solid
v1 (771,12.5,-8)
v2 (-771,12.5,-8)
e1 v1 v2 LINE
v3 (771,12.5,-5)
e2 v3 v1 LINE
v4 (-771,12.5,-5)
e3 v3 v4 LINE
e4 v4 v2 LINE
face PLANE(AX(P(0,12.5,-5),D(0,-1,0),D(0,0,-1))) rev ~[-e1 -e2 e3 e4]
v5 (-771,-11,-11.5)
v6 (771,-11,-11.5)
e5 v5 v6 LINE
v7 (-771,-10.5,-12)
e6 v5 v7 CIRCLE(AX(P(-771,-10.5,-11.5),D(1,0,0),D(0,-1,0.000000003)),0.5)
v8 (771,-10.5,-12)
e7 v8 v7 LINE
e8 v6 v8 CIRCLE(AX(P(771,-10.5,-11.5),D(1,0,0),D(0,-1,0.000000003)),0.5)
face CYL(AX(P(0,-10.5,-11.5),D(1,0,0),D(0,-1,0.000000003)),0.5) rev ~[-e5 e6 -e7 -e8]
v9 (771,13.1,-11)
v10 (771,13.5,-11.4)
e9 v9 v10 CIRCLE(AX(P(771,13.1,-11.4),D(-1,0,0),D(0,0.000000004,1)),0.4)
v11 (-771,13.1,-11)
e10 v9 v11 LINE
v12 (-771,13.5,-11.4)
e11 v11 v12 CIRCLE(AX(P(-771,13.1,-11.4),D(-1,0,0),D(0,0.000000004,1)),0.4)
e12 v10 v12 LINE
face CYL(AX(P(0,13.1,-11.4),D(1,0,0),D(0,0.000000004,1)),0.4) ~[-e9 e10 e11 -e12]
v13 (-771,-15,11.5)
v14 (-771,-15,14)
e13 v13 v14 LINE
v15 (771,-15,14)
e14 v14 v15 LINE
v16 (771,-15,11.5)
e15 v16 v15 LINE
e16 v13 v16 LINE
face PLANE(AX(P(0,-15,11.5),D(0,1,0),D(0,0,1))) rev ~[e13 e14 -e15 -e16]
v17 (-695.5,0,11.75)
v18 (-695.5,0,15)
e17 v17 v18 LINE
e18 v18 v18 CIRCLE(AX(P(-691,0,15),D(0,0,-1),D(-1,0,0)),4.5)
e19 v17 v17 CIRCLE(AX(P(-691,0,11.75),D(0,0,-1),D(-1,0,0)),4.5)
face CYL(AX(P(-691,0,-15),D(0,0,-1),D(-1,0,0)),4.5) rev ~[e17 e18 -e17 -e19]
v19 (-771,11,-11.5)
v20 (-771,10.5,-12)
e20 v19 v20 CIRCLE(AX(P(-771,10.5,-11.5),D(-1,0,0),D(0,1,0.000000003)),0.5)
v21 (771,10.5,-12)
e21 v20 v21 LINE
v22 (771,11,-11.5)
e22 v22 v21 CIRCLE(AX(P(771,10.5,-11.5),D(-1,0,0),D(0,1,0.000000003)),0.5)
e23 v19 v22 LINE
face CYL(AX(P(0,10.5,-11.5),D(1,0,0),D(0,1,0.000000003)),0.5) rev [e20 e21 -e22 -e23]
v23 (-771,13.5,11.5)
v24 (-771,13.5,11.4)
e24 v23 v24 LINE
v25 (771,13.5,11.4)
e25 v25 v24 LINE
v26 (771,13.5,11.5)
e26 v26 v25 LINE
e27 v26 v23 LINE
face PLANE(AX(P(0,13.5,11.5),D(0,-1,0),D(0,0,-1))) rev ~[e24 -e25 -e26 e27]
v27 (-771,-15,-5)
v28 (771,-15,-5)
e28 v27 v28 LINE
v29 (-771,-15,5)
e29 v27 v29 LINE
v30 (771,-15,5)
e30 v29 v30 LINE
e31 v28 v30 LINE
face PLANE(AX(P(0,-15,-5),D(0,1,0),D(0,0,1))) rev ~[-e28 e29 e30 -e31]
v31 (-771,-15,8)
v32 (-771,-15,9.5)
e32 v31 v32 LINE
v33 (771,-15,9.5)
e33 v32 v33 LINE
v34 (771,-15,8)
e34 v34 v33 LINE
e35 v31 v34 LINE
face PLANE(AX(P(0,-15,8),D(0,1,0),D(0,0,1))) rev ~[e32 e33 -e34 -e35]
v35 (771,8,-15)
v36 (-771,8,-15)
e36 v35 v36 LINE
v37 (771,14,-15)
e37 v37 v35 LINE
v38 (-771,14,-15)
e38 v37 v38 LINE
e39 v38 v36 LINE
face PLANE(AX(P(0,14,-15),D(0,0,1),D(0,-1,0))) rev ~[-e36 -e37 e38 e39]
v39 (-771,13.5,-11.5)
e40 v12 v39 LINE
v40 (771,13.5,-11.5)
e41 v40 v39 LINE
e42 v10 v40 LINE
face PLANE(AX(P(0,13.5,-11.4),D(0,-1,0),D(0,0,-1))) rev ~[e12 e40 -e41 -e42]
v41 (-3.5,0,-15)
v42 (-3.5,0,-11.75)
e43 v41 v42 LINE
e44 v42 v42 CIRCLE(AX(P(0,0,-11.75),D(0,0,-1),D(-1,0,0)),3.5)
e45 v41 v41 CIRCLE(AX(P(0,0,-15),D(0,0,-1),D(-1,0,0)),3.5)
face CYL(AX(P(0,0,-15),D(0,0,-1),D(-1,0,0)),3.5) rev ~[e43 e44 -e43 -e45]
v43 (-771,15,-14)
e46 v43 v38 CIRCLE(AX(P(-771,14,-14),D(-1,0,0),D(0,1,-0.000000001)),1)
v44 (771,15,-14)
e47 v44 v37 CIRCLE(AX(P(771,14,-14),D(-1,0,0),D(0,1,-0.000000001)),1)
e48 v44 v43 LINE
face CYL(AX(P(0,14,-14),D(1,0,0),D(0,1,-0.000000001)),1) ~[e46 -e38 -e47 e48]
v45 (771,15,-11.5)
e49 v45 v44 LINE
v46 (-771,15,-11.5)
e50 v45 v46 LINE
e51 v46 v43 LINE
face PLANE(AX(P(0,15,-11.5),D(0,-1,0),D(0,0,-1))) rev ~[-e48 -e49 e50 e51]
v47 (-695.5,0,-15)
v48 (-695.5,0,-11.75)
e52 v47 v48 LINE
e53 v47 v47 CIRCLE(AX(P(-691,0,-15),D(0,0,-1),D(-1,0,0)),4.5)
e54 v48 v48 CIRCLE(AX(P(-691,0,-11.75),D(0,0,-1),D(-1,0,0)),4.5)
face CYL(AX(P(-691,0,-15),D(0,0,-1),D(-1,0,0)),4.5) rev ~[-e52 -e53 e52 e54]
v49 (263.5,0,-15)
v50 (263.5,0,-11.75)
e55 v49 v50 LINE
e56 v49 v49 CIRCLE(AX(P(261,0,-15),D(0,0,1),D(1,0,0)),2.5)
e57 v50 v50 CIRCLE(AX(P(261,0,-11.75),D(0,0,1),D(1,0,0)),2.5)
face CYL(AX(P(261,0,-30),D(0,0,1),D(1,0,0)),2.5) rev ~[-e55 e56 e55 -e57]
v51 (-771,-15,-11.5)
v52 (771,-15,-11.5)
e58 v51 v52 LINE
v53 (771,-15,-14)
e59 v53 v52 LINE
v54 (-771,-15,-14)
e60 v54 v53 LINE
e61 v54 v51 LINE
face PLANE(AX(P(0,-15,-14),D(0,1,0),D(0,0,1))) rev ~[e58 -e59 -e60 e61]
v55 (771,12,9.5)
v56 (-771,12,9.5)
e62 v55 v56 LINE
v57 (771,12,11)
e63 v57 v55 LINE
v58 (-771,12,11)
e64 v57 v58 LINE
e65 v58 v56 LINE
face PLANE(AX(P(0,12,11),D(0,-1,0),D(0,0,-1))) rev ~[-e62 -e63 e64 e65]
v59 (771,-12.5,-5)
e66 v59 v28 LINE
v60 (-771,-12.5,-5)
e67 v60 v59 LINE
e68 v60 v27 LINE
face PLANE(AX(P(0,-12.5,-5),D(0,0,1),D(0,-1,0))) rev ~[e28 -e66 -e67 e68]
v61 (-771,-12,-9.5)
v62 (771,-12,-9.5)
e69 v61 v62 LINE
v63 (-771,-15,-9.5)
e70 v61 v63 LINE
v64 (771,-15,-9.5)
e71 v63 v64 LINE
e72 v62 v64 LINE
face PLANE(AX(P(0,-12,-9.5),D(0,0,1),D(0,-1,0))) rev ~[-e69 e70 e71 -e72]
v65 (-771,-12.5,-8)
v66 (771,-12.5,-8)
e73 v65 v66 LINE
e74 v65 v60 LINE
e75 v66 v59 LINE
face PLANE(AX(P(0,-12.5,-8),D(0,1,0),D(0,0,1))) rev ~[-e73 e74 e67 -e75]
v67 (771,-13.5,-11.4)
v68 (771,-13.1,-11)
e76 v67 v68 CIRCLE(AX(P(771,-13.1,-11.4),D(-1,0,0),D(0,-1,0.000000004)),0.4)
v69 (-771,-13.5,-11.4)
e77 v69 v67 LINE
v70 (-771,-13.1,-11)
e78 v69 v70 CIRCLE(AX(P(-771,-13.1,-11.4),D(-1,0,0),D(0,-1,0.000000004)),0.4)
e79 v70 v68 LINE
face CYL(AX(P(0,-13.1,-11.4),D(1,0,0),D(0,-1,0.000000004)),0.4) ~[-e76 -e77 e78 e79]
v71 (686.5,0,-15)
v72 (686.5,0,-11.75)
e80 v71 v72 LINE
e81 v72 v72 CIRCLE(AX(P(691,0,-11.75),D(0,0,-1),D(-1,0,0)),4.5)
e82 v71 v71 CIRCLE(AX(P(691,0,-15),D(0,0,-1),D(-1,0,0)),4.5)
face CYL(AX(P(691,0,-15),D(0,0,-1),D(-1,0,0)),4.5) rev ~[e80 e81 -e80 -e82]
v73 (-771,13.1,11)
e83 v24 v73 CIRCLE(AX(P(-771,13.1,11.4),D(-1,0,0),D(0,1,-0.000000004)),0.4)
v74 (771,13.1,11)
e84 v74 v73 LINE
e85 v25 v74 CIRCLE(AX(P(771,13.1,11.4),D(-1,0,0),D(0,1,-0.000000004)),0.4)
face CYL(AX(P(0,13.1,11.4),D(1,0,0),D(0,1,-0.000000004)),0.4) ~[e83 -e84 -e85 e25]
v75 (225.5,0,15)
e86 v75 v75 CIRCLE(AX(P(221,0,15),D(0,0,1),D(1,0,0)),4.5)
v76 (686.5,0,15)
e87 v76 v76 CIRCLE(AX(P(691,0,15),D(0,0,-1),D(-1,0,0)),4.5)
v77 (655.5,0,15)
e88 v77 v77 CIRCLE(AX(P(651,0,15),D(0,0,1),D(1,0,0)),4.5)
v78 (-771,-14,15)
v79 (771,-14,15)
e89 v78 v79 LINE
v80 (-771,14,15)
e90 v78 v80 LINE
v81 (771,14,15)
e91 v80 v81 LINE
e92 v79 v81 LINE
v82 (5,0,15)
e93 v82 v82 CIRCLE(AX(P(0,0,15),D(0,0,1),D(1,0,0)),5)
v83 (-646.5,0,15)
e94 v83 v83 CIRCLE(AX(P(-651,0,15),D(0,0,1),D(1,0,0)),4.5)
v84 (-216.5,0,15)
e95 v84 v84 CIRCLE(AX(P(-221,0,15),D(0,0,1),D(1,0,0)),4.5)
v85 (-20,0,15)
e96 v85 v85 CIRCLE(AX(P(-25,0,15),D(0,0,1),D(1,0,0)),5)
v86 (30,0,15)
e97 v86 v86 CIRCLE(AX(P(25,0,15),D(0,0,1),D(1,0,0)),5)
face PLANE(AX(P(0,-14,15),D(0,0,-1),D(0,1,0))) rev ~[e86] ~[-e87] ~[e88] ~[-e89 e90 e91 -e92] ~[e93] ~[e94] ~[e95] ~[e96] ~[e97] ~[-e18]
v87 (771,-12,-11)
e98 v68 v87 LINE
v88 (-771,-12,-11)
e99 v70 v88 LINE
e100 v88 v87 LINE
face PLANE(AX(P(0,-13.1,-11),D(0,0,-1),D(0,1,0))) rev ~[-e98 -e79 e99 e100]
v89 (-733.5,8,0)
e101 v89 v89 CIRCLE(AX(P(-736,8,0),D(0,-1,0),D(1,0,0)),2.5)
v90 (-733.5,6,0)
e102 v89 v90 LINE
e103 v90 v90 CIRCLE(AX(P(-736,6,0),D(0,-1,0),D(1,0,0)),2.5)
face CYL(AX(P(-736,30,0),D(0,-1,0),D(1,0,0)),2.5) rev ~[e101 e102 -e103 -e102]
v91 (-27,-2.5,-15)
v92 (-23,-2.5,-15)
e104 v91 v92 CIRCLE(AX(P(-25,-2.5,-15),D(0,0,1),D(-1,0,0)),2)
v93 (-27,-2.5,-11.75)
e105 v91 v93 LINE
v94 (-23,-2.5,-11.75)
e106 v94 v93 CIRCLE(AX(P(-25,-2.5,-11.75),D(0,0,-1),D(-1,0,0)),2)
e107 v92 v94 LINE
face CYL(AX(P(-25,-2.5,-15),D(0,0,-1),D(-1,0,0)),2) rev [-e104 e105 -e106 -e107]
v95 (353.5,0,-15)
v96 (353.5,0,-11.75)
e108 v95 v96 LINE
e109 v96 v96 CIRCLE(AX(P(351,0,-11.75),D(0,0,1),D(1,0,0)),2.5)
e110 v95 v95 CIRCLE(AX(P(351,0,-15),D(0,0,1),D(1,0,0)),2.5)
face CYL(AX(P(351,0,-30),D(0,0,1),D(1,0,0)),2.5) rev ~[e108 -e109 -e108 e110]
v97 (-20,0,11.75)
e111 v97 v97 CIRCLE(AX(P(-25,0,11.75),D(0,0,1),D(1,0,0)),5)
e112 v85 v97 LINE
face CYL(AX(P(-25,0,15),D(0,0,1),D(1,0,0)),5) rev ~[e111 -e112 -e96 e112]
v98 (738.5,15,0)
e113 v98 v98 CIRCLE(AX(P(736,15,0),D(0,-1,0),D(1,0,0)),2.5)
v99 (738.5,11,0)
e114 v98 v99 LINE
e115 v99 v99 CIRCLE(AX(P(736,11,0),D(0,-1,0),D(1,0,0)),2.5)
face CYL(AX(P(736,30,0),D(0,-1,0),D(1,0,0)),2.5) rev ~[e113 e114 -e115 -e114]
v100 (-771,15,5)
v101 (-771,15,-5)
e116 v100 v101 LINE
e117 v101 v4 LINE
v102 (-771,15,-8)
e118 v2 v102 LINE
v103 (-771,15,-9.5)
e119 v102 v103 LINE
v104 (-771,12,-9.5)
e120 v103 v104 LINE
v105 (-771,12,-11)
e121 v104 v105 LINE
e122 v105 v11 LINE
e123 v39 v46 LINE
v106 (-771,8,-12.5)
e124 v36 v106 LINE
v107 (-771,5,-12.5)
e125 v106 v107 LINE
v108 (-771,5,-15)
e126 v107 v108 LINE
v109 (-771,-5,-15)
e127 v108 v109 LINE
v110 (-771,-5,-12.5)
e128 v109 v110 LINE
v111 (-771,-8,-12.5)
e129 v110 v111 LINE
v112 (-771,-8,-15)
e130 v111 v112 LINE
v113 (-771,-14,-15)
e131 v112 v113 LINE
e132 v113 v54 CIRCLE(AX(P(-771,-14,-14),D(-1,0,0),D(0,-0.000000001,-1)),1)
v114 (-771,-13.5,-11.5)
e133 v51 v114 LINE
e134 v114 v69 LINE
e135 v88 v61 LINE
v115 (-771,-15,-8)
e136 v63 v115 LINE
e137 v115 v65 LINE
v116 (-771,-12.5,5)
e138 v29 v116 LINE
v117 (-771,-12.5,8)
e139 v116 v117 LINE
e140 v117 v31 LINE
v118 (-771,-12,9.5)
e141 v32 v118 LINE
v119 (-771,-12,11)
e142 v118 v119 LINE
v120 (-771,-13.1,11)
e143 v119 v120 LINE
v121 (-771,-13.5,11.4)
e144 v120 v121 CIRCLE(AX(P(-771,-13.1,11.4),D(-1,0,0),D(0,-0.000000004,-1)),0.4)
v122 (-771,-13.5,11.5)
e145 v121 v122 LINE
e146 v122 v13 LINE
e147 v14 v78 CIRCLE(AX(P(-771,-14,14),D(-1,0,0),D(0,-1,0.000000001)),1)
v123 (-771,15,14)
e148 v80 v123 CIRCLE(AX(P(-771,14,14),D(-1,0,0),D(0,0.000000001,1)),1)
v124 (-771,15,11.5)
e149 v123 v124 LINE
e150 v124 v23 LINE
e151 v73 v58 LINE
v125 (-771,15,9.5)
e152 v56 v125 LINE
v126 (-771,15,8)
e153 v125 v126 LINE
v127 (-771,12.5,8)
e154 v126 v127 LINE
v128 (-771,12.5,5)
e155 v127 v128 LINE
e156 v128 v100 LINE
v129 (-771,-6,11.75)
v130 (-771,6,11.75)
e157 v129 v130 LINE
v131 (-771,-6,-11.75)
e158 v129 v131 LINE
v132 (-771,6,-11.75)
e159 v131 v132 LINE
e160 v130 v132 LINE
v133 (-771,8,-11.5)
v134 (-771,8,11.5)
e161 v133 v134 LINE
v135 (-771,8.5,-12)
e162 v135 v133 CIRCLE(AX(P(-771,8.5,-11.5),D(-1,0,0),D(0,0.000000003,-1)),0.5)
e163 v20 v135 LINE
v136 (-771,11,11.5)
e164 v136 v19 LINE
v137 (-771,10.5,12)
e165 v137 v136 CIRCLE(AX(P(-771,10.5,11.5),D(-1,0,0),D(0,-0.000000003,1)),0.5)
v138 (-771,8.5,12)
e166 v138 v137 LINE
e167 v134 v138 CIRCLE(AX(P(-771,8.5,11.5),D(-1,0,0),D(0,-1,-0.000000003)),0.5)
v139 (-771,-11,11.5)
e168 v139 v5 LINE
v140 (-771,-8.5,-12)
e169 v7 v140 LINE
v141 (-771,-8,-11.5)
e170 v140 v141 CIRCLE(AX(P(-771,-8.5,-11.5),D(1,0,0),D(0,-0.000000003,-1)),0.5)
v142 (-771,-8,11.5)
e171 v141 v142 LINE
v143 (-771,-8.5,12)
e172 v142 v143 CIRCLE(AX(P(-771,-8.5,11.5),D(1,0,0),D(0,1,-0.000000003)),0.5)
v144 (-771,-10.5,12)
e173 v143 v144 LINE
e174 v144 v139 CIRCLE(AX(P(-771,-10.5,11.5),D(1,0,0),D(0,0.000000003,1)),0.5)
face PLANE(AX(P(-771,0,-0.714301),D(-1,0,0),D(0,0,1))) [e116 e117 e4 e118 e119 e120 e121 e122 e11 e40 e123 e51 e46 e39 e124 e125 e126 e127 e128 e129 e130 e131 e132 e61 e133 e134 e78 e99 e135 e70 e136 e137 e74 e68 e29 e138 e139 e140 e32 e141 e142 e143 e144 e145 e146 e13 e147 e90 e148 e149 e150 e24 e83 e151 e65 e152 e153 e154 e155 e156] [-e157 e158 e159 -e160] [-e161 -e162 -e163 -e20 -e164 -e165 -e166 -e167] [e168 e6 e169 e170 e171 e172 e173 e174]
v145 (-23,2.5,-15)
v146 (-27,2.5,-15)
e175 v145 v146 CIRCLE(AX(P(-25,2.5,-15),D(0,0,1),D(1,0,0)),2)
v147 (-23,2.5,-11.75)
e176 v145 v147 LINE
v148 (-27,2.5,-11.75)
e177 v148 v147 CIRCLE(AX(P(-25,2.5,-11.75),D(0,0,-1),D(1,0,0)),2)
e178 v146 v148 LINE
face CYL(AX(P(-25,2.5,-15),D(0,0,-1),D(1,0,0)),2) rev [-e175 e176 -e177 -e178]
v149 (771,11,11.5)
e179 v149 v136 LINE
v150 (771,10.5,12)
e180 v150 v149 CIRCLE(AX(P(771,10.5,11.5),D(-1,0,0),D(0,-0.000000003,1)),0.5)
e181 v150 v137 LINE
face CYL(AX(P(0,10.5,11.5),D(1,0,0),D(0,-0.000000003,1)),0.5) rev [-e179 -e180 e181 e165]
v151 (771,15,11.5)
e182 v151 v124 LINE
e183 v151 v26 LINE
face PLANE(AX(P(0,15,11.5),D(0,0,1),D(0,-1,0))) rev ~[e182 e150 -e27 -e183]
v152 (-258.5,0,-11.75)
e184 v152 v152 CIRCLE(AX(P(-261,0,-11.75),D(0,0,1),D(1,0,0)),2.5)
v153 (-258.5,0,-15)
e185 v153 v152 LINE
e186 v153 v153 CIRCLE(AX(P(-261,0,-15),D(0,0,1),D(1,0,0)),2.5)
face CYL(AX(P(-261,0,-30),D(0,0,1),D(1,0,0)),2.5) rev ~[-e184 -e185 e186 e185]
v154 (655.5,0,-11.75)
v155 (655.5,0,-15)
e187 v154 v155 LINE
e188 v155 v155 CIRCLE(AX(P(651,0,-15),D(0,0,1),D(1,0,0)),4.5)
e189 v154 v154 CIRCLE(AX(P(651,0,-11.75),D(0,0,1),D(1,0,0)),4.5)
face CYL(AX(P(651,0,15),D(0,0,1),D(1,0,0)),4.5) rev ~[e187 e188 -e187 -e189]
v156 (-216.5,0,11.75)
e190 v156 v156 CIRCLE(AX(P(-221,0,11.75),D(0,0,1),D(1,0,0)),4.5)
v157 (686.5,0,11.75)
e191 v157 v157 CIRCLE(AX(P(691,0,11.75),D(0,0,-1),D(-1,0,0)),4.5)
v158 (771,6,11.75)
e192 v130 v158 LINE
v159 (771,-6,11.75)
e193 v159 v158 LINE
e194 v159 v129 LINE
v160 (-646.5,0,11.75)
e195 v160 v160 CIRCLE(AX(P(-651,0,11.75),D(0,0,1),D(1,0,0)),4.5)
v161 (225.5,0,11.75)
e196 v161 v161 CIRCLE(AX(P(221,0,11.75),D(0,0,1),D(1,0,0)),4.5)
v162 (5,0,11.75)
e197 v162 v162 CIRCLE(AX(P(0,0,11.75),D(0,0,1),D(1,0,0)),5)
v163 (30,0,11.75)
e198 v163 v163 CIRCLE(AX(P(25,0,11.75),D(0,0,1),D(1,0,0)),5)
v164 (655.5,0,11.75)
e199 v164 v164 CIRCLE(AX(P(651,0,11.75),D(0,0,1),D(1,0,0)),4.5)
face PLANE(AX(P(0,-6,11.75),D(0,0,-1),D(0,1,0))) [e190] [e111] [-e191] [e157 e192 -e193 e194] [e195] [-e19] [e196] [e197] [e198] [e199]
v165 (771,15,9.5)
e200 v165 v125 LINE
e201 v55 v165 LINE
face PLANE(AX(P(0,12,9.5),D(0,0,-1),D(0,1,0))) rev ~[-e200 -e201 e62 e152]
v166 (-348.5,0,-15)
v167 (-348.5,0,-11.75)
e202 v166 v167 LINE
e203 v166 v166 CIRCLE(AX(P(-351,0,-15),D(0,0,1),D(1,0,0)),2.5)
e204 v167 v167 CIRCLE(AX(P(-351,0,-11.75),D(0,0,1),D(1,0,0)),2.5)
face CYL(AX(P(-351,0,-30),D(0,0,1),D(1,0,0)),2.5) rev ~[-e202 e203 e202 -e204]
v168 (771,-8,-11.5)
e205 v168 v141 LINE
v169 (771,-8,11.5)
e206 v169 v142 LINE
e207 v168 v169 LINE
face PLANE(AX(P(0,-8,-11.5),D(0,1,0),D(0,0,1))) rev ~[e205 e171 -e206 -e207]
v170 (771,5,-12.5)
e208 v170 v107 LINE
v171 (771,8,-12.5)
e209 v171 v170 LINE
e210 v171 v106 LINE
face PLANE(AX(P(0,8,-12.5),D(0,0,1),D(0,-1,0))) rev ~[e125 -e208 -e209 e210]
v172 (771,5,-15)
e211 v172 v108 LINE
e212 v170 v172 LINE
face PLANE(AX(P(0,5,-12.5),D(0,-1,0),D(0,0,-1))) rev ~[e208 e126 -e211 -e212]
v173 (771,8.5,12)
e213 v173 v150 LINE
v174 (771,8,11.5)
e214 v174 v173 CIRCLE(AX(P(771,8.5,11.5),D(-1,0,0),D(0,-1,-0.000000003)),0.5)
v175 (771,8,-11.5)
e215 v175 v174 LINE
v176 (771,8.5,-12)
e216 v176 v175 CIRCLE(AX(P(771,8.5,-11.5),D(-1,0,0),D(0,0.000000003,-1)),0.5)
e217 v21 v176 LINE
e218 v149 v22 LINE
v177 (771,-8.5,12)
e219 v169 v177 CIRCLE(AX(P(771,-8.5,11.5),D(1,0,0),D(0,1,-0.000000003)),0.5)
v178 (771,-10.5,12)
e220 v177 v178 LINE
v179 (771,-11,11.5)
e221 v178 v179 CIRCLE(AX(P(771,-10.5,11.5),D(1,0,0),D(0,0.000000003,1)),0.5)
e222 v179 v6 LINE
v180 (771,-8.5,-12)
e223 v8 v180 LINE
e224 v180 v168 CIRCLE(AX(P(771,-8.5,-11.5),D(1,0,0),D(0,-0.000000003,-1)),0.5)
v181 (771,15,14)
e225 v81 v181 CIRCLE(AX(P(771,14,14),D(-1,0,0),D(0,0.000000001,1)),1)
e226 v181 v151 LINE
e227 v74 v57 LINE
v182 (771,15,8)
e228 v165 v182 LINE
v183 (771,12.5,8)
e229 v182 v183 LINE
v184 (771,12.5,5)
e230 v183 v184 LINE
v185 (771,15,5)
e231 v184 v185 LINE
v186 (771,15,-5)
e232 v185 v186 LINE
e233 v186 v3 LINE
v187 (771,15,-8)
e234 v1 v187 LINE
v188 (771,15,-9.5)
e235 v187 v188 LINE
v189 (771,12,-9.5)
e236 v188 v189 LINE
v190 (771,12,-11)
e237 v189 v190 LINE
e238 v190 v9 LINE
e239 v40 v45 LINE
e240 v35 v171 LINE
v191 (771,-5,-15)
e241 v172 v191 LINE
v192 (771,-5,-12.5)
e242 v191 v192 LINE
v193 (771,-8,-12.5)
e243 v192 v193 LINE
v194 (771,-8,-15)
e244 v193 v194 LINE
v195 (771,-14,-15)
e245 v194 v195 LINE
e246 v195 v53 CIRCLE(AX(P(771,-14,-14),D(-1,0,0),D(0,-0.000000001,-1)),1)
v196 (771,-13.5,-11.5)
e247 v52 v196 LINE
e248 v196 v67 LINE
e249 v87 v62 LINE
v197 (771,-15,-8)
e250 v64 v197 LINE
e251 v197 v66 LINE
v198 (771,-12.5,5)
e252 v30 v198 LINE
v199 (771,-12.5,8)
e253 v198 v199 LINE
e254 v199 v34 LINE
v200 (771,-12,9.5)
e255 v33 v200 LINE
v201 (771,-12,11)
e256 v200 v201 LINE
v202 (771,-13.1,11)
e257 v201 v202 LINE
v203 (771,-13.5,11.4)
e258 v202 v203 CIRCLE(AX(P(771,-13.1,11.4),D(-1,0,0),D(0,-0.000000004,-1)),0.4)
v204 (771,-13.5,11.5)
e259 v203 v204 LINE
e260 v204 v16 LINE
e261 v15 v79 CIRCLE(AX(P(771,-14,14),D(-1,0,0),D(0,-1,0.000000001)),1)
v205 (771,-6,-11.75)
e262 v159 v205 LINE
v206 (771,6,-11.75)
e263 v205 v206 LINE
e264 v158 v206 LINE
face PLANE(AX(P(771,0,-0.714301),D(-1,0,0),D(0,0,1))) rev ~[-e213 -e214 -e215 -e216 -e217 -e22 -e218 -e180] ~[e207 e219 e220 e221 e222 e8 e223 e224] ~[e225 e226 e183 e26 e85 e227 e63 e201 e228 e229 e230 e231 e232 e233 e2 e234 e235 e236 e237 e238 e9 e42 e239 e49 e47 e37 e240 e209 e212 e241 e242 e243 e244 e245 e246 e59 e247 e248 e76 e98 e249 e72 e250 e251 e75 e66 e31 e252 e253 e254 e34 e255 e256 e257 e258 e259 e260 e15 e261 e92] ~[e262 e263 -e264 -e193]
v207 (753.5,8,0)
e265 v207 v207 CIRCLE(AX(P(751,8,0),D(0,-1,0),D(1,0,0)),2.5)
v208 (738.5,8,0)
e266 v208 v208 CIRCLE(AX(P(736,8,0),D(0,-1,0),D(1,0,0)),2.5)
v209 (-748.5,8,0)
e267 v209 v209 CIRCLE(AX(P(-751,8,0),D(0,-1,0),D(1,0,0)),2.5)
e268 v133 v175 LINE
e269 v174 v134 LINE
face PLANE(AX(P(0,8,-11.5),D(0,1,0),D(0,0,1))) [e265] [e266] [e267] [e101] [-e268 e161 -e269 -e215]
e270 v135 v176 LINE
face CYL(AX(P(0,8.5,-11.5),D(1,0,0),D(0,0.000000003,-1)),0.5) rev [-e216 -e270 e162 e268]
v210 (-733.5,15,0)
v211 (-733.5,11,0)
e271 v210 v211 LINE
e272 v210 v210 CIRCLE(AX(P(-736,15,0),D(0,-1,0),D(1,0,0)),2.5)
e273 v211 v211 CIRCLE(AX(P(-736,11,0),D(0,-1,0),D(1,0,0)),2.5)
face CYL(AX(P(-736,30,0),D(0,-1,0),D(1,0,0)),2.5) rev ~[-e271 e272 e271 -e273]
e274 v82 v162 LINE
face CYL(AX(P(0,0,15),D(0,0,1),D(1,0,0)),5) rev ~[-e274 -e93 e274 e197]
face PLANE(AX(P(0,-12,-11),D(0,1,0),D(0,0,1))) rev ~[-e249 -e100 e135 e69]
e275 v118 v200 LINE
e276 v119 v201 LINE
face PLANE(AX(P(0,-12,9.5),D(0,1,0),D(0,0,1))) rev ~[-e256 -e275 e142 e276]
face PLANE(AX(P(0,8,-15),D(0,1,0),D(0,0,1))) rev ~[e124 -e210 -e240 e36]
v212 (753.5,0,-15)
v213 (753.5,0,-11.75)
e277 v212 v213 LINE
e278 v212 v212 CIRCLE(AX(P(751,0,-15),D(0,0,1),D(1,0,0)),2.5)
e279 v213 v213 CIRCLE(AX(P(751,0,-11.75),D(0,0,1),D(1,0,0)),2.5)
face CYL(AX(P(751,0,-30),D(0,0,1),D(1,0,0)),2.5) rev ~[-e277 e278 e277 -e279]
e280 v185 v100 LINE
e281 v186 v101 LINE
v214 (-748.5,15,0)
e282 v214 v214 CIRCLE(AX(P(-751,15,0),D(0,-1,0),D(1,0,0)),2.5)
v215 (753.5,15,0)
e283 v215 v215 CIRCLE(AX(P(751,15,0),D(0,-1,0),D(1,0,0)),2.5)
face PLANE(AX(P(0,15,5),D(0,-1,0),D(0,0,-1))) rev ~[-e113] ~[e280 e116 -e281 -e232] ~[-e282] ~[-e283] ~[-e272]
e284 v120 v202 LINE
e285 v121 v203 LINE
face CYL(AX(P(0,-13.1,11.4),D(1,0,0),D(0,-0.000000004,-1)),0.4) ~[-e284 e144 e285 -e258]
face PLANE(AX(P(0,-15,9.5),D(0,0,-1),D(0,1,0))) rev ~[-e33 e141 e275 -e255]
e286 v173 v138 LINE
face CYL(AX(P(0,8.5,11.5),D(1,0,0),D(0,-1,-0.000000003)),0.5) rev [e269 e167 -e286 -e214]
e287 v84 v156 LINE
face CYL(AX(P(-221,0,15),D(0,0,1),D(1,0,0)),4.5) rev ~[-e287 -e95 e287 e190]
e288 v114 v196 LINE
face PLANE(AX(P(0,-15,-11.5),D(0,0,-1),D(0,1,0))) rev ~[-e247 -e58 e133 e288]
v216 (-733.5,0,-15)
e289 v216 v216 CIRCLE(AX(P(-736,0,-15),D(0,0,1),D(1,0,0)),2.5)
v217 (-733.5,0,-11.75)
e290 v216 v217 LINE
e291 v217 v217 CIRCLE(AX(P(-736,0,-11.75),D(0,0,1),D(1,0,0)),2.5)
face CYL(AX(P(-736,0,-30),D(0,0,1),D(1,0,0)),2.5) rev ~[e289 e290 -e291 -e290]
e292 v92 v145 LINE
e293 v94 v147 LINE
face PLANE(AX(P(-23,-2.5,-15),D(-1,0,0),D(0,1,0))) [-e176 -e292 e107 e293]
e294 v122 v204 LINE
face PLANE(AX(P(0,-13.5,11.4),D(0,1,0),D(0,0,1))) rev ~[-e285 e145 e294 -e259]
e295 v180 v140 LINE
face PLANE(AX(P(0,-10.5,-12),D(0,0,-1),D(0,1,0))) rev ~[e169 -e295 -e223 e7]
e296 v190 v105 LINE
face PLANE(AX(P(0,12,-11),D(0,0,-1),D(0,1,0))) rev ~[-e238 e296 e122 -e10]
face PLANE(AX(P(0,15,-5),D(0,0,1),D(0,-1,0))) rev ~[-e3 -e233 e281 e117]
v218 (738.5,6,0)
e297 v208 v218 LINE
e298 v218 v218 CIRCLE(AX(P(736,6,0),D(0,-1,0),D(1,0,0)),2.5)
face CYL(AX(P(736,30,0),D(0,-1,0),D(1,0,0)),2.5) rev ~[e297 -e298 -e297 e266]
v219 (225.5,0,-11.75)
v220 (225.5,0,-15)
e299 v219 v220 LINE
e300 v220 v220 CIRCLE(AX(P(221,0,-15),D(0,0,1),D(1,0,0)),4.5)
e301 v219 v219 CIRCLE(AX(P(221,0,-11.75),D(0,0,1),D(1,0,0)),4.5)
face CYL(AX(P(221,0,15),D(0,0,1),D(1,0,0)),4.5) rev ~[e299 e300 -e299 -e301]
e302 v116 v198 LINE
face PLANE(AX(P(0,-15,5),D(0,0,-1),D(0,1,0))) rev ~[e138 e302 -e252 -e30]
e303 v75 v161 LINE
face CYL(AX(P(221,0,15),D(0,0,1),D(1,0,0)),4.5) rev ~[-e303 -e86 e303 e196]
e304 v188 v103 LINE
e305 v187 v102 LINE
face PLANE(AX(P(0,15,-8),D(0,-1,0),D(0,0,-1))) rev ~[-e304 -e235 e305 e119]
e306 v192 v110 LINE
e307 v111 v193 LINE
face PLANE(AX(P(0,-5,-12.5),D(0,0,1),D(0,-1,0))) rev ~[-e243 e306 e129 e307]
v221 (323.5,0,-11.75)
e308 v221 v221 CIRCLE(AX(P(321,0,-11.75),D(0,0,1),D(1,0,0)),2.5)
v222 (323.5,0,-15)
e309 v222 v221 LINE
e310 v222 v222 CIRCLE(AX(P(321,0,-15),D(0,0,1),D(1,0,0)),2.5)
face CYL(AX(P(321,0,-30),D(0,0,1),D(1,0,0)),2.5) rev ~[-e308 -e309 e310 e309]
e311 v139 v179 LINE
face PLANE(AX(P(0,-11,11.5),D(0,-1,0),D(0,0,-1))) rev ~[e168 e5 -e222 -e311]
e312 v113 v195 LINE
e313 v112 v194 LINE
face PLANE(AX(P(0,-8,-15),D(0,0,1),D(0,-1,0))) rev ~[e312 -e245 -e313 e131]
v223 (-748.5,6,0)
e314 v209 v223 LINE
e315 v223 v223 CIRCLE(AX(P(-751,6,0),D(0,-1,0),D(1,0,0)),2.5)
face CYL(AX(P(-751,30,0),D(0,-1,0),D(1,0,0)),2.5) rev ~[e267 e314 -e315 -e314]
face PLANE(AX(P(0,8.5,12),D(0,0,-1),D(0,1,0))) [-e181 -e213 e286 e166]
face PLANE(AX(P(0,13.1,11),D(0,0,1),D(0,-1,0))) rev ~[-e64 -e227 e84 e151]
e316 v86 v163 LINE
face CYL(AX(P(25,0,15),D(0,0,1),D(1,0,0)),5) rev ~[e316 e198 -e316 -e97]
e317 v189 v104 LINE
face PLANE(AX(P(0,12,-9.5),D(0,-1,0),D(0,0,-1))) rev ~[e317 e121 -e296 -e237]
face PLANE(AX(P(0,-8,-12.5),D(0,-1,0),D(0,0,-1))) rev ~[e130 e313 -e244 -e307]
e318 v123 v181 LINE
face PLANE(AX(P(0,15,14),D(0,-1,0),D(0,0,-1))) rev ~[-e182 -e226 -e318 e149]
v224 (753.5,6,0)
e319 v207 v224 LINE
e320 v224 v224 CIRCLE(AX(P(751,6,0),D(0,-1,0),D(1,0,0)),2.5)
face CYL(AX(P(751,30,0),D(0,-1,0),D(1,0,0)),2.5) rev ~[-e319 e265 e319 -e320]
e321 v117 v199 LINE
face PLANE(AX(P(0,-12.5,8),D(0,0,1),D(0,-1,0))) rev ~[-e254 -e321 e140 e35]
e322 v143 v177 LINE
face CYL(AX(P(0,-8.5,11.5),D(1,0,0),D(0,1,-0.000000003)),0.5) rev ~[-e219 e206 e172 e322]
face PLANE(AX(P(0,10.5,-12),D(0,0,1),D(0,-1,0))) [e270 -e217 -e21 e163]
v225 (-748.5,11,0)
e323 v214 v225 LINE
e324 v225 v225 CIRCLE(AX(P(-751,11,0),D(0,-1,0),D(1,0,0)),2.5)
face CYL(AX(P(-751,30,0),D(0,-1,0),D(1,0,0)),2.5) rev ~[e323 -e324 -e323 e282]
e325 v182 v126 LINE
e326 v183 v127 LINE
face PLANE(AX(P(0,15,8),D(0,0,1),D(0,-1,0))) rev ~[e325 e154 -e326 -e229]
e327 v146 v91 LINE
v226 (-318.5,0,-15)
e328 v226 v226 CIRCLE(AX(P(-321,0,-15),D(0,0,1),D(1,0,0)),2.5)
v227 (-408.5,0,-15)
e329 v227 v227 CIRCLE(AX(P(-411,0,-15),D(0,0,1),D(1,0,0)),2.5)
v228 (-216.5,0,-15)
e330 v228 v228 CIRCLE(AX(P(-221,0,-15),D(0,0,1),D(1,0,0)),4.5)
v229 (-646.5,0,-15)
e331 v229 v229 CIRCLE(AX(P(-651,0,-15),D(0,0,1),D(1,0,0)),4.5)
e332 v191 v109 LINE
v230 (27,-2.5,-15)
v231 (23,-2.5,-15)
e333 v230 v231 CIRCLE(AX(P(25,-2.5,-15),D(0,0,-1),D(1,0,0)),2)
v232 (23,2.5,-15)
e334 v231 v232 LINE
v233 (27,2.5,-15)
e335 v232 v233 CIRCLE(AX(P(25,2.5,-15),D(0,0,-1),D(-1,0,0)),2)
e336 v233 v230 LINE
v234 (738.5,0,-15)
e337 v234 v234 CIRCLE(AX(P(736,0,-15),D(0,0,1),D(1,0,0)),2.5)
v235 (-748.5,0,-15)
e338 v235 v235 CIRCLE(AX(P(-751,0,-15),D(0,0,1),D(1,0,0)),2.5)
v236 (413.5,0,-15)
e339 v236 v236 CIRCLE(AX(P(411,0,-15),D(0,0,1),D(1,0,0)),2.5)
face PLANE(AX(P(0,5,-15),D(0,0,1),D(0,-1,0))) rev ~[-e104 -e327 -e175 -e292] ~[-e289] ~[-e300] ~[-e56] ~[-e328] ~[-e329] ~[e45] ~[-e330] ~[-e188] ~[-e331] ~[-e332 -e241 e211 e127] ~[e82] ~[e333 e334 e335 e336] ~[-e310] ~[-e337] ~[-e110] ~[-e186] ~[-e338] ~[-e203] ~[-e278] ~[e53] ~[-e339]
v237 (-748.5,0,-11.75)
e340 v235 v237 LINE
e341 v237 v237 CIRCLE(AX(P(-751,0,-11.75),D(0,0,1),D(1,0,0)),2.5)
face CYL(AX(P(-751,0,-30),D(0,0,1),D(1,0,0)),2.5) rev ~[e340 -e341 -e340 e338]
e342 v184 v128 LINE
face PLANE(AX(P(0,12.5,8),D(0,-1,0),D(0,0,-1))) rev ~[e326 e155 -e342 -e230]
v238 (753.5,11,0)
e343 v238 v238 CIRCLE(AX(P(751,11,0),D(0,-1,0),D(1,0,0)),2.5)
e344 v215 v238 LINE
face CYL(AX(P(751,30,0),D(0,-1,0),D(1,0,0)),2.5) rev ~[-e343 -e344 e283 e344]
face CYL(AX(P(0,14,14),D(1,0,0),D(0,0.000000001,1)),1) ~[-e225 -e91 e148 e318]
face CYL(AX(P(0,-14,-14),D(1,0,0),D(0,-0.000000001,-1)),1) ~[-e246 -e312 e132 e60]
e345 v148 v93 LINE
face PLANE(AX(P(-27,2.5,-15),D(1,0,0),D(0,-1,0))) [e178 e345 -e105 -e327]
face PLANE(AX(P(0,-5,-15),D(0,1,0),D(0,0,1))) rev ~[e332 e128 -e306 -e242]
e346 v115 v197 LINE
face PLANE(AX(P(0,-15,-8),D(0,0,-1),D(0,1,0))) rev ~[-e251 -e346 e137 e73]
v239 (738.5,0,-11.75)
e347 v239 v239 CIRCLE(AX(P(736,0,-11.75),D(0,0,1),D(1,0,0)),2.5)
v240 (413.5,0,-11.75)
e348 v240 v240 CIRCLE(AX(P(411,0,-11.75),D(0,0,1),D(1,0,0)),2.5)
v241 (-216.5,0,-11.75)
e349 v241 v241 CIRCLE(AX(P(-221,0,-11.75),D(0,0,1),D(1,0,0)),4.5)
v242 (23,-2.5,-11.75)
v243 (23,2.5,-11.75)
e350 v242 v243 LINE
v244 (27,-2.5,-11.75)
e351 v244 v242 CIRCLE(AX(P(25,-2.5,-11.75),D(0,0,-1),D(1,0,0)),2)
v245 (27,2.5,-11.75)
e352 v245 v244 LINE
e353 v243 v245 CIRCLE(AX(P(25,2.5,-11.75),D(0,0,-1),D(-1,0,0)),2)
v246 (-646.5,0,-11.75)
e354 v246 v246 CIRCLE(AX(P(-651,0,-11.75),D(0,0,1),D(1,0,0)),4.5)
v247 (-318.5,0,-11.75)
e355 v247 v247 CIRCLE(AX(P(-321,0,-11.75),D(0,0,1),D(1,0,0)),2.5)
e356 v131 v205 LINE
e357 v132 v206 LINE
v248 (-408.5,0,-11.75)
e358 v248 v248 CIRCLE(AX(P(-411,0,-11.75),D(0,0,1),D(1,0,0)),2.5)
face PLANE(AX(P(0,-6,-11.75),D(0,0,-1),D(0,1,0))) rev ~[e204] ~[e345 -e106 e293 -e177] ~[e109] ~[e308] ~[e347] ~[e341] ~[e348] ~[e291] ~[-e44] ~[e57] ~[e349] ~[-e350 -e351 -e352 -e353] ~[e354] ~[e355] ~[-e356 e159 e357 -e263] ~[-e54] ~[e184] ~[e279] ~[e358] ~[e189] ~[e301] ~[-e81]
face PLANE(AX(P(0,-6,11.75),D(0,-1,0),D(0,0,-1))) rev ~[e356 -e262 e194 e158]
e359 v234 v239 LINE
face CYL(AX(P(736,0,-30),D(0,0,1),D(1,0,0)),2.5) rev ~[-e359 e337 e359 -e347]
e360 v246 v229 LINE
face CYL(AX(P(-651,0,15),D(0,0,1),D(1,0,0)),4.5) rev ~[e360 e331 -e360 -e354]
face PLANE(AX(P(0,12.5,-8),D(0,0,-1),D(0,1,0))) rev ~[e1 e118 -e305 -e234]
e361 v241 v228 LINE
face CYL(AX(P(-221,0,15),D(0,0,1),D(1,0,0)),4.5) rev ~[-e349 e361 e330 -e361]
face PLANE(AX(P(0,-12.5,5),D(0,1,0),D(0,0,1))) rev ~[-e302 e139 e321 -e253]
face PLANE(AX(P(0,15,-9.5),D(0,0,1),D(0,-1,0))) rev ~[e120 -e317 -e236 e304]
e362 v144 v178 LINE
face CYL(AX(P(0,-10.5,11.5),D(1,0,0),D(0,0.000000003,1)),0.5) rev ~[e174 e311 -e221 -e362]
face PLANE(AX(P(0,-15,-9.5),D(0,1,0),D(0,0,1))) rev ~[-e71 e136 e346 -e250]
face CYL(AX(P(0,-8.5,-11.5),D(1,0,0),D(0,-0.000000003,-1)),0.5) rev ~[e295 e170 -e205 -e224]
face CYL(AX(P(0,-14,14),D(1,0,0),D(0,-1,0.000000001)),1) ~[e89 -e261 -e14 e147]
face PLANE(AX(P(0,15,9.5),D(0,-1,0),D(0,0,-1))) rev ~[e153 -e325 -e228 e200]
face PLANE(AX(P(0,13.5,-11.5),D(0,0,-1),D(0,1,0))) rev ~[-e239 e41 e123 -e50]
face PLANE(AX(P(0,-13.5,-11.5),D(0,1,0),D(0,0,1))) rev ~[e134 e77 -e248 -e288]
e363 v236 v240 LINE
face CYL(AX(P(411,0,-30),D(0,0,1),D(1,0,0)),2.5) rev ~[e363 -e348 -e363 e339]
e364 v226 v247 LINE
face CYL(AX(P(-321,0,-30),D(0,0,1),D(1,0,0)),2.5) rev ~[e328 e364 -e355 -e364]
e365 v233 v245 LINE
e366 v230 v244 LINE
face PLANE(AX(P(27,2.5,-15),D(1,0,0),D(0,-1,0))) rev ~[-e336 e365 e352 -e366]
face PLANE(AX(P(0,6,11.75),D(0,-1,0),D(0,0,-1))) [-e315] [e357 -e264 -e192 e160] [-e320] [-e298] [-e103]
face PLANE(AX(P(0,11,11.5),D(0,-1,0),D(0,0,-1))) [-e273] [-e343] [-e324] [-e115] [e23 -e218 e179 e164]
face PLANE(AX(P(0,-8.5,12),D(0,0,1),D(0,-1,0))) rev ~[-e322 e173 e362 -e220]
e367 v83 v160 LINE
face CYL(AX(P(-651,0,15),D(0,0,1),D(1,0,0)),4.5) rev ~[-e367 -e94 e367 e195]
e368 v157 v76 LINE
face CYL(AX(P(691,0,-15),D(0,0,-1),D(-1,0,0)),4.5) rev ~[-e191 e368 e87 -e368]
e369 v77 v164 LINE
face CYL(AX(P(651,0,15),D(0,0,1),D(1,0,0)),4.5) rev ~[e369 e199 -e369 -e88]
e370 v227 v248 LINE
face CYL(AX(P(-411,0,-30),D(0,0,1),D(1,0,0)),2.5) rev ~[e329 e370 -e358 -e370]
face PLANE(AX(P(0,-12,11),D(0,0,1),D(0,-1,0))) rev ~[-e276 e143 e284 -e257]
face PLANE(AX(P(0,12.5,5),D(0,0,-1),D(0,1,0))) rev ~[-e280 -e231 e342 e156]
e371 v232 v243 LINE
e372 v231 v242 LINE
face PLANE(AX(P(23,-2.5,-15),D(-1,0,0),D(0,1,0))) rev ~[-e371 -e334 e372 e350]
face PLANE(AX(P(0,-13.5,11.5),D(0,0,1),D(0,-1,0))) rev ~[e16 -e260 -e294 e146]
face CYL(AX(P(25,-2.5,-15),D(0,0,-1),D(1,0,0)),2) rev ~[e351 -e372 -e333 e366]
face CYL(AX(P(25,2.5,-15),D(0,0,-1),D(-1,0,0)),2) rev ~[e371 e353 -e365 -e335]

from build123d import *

# Parameters (mm, degrees)
SKETCH_1_W             = 23.5
SKETCH_1_H             = 12
EXTRUDE_1_DEPTH        = 771
HOLE_WIZARD_M6_1_D     = 5
HOLE_WIZARD_M6_1_DEPTH = 15
HOLE_WIZARD_M6_1_TIP   = 1.502151548
HOLE_WIZARD_M6_2_D     = 5
HOLE_WIZARD_M6_2_DEPTH = 15
HOLE_WIZARD_M6_2_TIP   = 1.502151548
SKETCH_7_R             = 4.5
CUT_EXTRUDE_1_DEPTH    = 772.729227126
SKETCH_8_R             = 5
CUT_EXTRUDE_2_DEPTH    = 15
SKETCH_9_R             = 3.5
CUT_EXTRUDE_3_DEPTH    = 15
HOLE_WIZARD_M6_3_D     = 5
HOLE_WIZARD_M6_3_DEPTH = 15
HOLE_WIZARD_M6_3_TIP   = 1.502151548
HOLE_WIZARD_M6_4_D     = 5
HOLE_WIZARD_M6_4_DEPTH = 15
HOLE_WIZARD_M6_4_TIP   = 1.502151548
SKETCH_14_R            = 4.5
CUT_EXTRUDE_4_DEPTH    = 772.729227126


with BuildPart() as part:
    # 草图1 → 凸台-拉伸1 (new, symmetric)
    with BuildSketch(Plane(origin=(0, 0, 0), x_dir=(0, 0, -1), z_dir=(1, 0, 0))):
        with BuildLine():
            Line((-14, 15), (-11.5, 15))
            Line((-11.5, 15), (-11.5, 13.5))
            Line((-11.5, 13.5), (-11.4, 13.5))
            ThreePointArc((-11.4, 13.5), (-11.117157288, 13.382842712), (-11, 13.1))
            Line((-11, 13.1), (-11, 12))
            Line((-11, 12), (-9.5, 12))
            Line((-9.5, 12), (-9.5, 15))
            Line((-9.5, 15), (-8, 15))
            Line((-8, 15), (-8, 12.5))
            Line((-8, 12.5), (-5, 12.5))
            Line((-5, 12.5), (-5, 15))
            Line((-5, 15), (5, 15))
            Line((5, 15), (5, 12.5))
            Line((5, 12.5), (8, 12.5))
            Line((8, 12.5), (8, 15))
            Line((8, 15), (9.5, 15))
            Line((9.5, 15), (9.5, 12))
            Line((9.5, 12), (11, 12))
            Line((11, 12), (11, 13.1))
            ThreePointArc((11, 13.1), (11.117157288, 13.382842712), (11.4, 13.5))
            Line((11.4, 13.5), (11.5, 13.5))
            Line((11.5, 13.5), (11.5, 15))
            Line((11.5, 15), (14, 15))
            ThreePointArc((14, 15), (14.707106781, 14.707106781), (15, 14))
            Line((15, 14), (15, 8))
            Line((15, 8), (12.5, 8))
            Line((12.5, 8), (12.5, 5))
            Line((12.5, 5), (15, 5))
            Line((15, 5), (15, -5))
            Line((15, -5), (12.5, -5))
            Line((12.5, -5), (12.5, -8))
            Line((12.5, -8), (15, -8))
            Line((15, -8), (15, -14))
            ThreePointArc((15, -14), (14.707106781, -14.707106781), (14, -15))
            Line((14, -15), (11.5, -15))
            Line((11.5, -15), (11.5, -13.5))
            Line((11.5, -13.5), (11.4, -13.5))
            ThreePointArc((11.4, -13.5), (11.117157288, -13.382842712), (11, -13.1))
            Line((11, -13.1), (11, -12))
            Line((11, -12), (9.5, -12))
            Line((9.5, -12), (9.5, -15))
            Line((9.5, -15), (8, -15))
            Line((8, -15), (8, -12.5))
            Line((8, -12.5), (5, -12.5))
            Line((5, -12.5), (5, -15))
            Line((5, -15), (-5, -15))
            Line((-5, -15), (-5, -12.5))
            Line((-5, -12.5), (-8, -12.5))
            Line((-8, -12.5), (-8, -15))
            Line((-8, -15), (-9.5, -15))
            Line((-9.5, -15), (-9.5, -12))
            Line((-9.5, -12), (-11, -12))
            Line((-11, -12), (-11, -13.1))
            ThreePointArc((-11, -13.1), (-11.117157288, -13.382842712), (-11.4, -13.5))
            Line((-11.4, -13.5), (-11.5, -13.5))
            Line((-11.5, -13.5), (-11.5, -15))
            Line((-11.5, -15), (-14, -15))
            ThreePointArc((-14, -15), (-14.707106781, -14.707106781), (-15, -14))
            Line((-15, -14), (-15, 14))
            ThreePointArc((-15, 14), (-14.707106781, 14.707106781), (-14, 15))
        make_face()
        with BuildLine():
            Line((12, -10.5), (12, -8.5))
            ThreePointArc((12, -8.5), (11.853553391, -8.146446609), (11.5, -8))
            Line((11.5, -8), (-11.5, -8))
            ThreePointArc((-11.5, -8), (-11.853553391, -8.146446609), (-12, -8.5))
            Line((-12, -8.5), (-12, -10.5))
            ThreePointArc((-12, -10.5), (-11.853553391, -10.853553391), (-11.5, -11))
            Line((-11.5, -11), (11.5, -11))
            ThreePointArc((11.5, -11), (11.853553391, -10.853553391), (12, -10.5))
        make_face(mode=Mode.SUBTRACT)
        with BuildLine():
            Line((-11.5, 11), (11.5, 11))
            ThreePointArc((11.5, 11), (11.853553391, 10.853553391), (12, 10.5))
            Line((12, 10.5), (12, 8.5))
            ThreePointArc((12, 8.5), (11.853553391, 8.146446609), (11.5, 8))
            Line((11.5, 8), (-11.5, 8))
            ThreePointArc((-11.5, 8), (-11.853553391, 8.146446609), (-12, 8.5))
            Line((-12, 8.5), (-12, 10.5))
            ThreePointArc((-12, 10.5), (-11.853553391, 10.853553391), (-11.5, 11))
        make_face(mode=Mode.SUBTRACT)
        Rectangle(SKETCH_1_W, SKETCH_1_H, mode=Mode.SUBTRACT)
    extrude(amount=EXTRUDE_1_DEPTH, both=True)

    # M6 螺纹孔1
    with Locations(Plane(origin=(0, 0, -15), x_dir=(-1, 0, 0), z_dir=(0, 0, -1))):
        with Locations((751, 0), (736, 0), (-736, 0), (-751, 0)):
            Hole(HOLE_WIZARD_M6_1_D / 2, depth=HOLE_WIZARD_M6_1_DEPTH)
            with Locations((0, 0, -(HOLE_WIZARD_M6_1_DEPTH + HOLE_WIZARD_M6_1_TIP / 2))):  # 118° drill point
                Cone(0, HOLE_WIZARD_M6_1_D / 2, HOLE_WIZARD_M6_1_TIP, mode=Mode.SUBTRACT)

    # M6 螺纹孔2
    with Locations(Plane(origin=(0, 15, 0), x_dir=(-1, 0, 0), z_dir=(0, 1, 0))):
        with Locations((-751, 0), (-736, 0), (736, 0), (751, 0)):
            Hole(HOLE_WIZARD_M6_2_D / 2, depth=HOLE_WIZARD_M6_2_DEPTH)
            with Locations((0, 0, -(HOLE_WIZARD_M6_2_DEPTH + HOLE_WIZARD_M6_2_TIP / 2))):  # 118° drill point
                Cone(0, HOLE_WIZARD_M6_2_D / 2, HOLE_WIZARD_M6_2_TIP, mode=Mode.SUBTRACT)

    # 草图7 → 切除-拉伸1 (cut, through all)
    with BuildSketch(Plane.XY.offset(15)):
        with Locations((-651, 0)):
            Circle(SKETCH_7_R)
        with Locations((-221, 0)):
            Circle(SKETCH_7_R)
        with Locations((651, 0)):
            Circle(SKETCH_7_R)
        with Locations((221, 0)):
            Circle(SKETCH_7_R)
    extrude(amount=-CUT_EXTRUDE_1_DEPTH, mode=Mode.SUBTRACT)

    # 草图8 → 切除-拉伸2 (cut)
    with BuildSketch(Plane.XY.offset(15)):
        Circle(SKETCH_8_R)
        with Locations((-25, 0)):
            Circle(SKETCH_8_R)
        with Locations((25, 0)):
            Circle(SKETCH_8_R)
    extrude(amount=-CUT_EXTRUDE_2_DEPTH, mode=Mode.SUBTRACT)

    # 草图9 → 切除-拉伸3 (cut)
    with BuildSketch(Plane(origin=(0, 0, -15), x_dir=(-1, 0, 0), z_dir=(0, 0, -1))):
        Circle(SKETCH_9_R)
        with BuildLine():
            Line((27, 2.5), (27, -2.5))
            ThreePointArc((27, -2.5), (25, -4.5), (23, -2.5))
            Line((23, -2.5), (23, 2.5))
            ThreePointArc((23, 2.5), (25, 4.5), (27, 2.5))
        make_face()
        with BuildLine():
            Line((-27, 2.5), (-27, -2.5))
            ThreePointArc((-27, -2.5), (-25, -4.5), (-23, -2.5))
            Line((-23, -2.5), (-23, 2.5))
            ThreePointArc((-23, 2.5), (-25, 4.5), (-27, 2.5))
        make_face()
    extrude(amount=-CUT_EXTRUDE_3_DEPTH, mode=Mode.SUBTRACT)

    # M6 螺纹孔3
    with Locations(Plane(origin=(0, 0, -15), x_dir=(-1, 0, 0), z_dir=(0, 0, -1))):
        with Locations((411, 0), (351, 0), (321, 0), (261, 0), (-261, 0), (-321, 0), (-351, 0), (-411, 0)):
            Hole(HOLE_WIZARD_M6_3_D / 2, depth=HOLE_WIZARD_M6_3_DEPTH)
            with Locations((0, 0, -(HOLE_WIZARD_M6_3_DEPTH + HOLE_WIZARD_M6_3_TIP / 2))):  # 118° drill point
                Cone(0, HOLE_WIZARD_M6_3_D / 2, HOLE_WIZARD_M6_3_TIP, mode=Mode.SUBTRACT)

    # M6 螺纹孔4
    with Locations(Plane(origin=(0, 0, -15), x_dir=(-1, 0, 0), z_dir=(0, 0, -1))):
        with Locations((691, 0), (-691, 0)):
            Hole(HOLE_WIZARD_M6_4_D / 2, depth=HOLE_WIZARD_M6_4_DEPTH)
            with Locations((0, 0, -(HOLE_WIZARD_M6_4_DEPTH + HOLE_WIZARD_M6_4_TIP / 2))):  # 118° drill point
                Cone(0, HOLE_WIZARD_M6_4_D / 2, HOLE_WIZARD_M6_4_TIP, mode=Mode.SUBTRACT)

    # 草图14 → 切除-拉伸4 (cut, through all)
    with BuildSketch(Plane(origin=(0, 0, -15), x_dir=(-1, 0, 0), z_dir=(0, 0, -1))):
        with Locations((691, 0)):
            Circle(SKETCH_14_R)
        with Locations((-691, 0)):
            Circle(SKETCH_14_R)
    extrude(amount=-CUT_EXTRUDE_4_DEPTH, mode=Mode.SUBTRACT)


solid = part.part
